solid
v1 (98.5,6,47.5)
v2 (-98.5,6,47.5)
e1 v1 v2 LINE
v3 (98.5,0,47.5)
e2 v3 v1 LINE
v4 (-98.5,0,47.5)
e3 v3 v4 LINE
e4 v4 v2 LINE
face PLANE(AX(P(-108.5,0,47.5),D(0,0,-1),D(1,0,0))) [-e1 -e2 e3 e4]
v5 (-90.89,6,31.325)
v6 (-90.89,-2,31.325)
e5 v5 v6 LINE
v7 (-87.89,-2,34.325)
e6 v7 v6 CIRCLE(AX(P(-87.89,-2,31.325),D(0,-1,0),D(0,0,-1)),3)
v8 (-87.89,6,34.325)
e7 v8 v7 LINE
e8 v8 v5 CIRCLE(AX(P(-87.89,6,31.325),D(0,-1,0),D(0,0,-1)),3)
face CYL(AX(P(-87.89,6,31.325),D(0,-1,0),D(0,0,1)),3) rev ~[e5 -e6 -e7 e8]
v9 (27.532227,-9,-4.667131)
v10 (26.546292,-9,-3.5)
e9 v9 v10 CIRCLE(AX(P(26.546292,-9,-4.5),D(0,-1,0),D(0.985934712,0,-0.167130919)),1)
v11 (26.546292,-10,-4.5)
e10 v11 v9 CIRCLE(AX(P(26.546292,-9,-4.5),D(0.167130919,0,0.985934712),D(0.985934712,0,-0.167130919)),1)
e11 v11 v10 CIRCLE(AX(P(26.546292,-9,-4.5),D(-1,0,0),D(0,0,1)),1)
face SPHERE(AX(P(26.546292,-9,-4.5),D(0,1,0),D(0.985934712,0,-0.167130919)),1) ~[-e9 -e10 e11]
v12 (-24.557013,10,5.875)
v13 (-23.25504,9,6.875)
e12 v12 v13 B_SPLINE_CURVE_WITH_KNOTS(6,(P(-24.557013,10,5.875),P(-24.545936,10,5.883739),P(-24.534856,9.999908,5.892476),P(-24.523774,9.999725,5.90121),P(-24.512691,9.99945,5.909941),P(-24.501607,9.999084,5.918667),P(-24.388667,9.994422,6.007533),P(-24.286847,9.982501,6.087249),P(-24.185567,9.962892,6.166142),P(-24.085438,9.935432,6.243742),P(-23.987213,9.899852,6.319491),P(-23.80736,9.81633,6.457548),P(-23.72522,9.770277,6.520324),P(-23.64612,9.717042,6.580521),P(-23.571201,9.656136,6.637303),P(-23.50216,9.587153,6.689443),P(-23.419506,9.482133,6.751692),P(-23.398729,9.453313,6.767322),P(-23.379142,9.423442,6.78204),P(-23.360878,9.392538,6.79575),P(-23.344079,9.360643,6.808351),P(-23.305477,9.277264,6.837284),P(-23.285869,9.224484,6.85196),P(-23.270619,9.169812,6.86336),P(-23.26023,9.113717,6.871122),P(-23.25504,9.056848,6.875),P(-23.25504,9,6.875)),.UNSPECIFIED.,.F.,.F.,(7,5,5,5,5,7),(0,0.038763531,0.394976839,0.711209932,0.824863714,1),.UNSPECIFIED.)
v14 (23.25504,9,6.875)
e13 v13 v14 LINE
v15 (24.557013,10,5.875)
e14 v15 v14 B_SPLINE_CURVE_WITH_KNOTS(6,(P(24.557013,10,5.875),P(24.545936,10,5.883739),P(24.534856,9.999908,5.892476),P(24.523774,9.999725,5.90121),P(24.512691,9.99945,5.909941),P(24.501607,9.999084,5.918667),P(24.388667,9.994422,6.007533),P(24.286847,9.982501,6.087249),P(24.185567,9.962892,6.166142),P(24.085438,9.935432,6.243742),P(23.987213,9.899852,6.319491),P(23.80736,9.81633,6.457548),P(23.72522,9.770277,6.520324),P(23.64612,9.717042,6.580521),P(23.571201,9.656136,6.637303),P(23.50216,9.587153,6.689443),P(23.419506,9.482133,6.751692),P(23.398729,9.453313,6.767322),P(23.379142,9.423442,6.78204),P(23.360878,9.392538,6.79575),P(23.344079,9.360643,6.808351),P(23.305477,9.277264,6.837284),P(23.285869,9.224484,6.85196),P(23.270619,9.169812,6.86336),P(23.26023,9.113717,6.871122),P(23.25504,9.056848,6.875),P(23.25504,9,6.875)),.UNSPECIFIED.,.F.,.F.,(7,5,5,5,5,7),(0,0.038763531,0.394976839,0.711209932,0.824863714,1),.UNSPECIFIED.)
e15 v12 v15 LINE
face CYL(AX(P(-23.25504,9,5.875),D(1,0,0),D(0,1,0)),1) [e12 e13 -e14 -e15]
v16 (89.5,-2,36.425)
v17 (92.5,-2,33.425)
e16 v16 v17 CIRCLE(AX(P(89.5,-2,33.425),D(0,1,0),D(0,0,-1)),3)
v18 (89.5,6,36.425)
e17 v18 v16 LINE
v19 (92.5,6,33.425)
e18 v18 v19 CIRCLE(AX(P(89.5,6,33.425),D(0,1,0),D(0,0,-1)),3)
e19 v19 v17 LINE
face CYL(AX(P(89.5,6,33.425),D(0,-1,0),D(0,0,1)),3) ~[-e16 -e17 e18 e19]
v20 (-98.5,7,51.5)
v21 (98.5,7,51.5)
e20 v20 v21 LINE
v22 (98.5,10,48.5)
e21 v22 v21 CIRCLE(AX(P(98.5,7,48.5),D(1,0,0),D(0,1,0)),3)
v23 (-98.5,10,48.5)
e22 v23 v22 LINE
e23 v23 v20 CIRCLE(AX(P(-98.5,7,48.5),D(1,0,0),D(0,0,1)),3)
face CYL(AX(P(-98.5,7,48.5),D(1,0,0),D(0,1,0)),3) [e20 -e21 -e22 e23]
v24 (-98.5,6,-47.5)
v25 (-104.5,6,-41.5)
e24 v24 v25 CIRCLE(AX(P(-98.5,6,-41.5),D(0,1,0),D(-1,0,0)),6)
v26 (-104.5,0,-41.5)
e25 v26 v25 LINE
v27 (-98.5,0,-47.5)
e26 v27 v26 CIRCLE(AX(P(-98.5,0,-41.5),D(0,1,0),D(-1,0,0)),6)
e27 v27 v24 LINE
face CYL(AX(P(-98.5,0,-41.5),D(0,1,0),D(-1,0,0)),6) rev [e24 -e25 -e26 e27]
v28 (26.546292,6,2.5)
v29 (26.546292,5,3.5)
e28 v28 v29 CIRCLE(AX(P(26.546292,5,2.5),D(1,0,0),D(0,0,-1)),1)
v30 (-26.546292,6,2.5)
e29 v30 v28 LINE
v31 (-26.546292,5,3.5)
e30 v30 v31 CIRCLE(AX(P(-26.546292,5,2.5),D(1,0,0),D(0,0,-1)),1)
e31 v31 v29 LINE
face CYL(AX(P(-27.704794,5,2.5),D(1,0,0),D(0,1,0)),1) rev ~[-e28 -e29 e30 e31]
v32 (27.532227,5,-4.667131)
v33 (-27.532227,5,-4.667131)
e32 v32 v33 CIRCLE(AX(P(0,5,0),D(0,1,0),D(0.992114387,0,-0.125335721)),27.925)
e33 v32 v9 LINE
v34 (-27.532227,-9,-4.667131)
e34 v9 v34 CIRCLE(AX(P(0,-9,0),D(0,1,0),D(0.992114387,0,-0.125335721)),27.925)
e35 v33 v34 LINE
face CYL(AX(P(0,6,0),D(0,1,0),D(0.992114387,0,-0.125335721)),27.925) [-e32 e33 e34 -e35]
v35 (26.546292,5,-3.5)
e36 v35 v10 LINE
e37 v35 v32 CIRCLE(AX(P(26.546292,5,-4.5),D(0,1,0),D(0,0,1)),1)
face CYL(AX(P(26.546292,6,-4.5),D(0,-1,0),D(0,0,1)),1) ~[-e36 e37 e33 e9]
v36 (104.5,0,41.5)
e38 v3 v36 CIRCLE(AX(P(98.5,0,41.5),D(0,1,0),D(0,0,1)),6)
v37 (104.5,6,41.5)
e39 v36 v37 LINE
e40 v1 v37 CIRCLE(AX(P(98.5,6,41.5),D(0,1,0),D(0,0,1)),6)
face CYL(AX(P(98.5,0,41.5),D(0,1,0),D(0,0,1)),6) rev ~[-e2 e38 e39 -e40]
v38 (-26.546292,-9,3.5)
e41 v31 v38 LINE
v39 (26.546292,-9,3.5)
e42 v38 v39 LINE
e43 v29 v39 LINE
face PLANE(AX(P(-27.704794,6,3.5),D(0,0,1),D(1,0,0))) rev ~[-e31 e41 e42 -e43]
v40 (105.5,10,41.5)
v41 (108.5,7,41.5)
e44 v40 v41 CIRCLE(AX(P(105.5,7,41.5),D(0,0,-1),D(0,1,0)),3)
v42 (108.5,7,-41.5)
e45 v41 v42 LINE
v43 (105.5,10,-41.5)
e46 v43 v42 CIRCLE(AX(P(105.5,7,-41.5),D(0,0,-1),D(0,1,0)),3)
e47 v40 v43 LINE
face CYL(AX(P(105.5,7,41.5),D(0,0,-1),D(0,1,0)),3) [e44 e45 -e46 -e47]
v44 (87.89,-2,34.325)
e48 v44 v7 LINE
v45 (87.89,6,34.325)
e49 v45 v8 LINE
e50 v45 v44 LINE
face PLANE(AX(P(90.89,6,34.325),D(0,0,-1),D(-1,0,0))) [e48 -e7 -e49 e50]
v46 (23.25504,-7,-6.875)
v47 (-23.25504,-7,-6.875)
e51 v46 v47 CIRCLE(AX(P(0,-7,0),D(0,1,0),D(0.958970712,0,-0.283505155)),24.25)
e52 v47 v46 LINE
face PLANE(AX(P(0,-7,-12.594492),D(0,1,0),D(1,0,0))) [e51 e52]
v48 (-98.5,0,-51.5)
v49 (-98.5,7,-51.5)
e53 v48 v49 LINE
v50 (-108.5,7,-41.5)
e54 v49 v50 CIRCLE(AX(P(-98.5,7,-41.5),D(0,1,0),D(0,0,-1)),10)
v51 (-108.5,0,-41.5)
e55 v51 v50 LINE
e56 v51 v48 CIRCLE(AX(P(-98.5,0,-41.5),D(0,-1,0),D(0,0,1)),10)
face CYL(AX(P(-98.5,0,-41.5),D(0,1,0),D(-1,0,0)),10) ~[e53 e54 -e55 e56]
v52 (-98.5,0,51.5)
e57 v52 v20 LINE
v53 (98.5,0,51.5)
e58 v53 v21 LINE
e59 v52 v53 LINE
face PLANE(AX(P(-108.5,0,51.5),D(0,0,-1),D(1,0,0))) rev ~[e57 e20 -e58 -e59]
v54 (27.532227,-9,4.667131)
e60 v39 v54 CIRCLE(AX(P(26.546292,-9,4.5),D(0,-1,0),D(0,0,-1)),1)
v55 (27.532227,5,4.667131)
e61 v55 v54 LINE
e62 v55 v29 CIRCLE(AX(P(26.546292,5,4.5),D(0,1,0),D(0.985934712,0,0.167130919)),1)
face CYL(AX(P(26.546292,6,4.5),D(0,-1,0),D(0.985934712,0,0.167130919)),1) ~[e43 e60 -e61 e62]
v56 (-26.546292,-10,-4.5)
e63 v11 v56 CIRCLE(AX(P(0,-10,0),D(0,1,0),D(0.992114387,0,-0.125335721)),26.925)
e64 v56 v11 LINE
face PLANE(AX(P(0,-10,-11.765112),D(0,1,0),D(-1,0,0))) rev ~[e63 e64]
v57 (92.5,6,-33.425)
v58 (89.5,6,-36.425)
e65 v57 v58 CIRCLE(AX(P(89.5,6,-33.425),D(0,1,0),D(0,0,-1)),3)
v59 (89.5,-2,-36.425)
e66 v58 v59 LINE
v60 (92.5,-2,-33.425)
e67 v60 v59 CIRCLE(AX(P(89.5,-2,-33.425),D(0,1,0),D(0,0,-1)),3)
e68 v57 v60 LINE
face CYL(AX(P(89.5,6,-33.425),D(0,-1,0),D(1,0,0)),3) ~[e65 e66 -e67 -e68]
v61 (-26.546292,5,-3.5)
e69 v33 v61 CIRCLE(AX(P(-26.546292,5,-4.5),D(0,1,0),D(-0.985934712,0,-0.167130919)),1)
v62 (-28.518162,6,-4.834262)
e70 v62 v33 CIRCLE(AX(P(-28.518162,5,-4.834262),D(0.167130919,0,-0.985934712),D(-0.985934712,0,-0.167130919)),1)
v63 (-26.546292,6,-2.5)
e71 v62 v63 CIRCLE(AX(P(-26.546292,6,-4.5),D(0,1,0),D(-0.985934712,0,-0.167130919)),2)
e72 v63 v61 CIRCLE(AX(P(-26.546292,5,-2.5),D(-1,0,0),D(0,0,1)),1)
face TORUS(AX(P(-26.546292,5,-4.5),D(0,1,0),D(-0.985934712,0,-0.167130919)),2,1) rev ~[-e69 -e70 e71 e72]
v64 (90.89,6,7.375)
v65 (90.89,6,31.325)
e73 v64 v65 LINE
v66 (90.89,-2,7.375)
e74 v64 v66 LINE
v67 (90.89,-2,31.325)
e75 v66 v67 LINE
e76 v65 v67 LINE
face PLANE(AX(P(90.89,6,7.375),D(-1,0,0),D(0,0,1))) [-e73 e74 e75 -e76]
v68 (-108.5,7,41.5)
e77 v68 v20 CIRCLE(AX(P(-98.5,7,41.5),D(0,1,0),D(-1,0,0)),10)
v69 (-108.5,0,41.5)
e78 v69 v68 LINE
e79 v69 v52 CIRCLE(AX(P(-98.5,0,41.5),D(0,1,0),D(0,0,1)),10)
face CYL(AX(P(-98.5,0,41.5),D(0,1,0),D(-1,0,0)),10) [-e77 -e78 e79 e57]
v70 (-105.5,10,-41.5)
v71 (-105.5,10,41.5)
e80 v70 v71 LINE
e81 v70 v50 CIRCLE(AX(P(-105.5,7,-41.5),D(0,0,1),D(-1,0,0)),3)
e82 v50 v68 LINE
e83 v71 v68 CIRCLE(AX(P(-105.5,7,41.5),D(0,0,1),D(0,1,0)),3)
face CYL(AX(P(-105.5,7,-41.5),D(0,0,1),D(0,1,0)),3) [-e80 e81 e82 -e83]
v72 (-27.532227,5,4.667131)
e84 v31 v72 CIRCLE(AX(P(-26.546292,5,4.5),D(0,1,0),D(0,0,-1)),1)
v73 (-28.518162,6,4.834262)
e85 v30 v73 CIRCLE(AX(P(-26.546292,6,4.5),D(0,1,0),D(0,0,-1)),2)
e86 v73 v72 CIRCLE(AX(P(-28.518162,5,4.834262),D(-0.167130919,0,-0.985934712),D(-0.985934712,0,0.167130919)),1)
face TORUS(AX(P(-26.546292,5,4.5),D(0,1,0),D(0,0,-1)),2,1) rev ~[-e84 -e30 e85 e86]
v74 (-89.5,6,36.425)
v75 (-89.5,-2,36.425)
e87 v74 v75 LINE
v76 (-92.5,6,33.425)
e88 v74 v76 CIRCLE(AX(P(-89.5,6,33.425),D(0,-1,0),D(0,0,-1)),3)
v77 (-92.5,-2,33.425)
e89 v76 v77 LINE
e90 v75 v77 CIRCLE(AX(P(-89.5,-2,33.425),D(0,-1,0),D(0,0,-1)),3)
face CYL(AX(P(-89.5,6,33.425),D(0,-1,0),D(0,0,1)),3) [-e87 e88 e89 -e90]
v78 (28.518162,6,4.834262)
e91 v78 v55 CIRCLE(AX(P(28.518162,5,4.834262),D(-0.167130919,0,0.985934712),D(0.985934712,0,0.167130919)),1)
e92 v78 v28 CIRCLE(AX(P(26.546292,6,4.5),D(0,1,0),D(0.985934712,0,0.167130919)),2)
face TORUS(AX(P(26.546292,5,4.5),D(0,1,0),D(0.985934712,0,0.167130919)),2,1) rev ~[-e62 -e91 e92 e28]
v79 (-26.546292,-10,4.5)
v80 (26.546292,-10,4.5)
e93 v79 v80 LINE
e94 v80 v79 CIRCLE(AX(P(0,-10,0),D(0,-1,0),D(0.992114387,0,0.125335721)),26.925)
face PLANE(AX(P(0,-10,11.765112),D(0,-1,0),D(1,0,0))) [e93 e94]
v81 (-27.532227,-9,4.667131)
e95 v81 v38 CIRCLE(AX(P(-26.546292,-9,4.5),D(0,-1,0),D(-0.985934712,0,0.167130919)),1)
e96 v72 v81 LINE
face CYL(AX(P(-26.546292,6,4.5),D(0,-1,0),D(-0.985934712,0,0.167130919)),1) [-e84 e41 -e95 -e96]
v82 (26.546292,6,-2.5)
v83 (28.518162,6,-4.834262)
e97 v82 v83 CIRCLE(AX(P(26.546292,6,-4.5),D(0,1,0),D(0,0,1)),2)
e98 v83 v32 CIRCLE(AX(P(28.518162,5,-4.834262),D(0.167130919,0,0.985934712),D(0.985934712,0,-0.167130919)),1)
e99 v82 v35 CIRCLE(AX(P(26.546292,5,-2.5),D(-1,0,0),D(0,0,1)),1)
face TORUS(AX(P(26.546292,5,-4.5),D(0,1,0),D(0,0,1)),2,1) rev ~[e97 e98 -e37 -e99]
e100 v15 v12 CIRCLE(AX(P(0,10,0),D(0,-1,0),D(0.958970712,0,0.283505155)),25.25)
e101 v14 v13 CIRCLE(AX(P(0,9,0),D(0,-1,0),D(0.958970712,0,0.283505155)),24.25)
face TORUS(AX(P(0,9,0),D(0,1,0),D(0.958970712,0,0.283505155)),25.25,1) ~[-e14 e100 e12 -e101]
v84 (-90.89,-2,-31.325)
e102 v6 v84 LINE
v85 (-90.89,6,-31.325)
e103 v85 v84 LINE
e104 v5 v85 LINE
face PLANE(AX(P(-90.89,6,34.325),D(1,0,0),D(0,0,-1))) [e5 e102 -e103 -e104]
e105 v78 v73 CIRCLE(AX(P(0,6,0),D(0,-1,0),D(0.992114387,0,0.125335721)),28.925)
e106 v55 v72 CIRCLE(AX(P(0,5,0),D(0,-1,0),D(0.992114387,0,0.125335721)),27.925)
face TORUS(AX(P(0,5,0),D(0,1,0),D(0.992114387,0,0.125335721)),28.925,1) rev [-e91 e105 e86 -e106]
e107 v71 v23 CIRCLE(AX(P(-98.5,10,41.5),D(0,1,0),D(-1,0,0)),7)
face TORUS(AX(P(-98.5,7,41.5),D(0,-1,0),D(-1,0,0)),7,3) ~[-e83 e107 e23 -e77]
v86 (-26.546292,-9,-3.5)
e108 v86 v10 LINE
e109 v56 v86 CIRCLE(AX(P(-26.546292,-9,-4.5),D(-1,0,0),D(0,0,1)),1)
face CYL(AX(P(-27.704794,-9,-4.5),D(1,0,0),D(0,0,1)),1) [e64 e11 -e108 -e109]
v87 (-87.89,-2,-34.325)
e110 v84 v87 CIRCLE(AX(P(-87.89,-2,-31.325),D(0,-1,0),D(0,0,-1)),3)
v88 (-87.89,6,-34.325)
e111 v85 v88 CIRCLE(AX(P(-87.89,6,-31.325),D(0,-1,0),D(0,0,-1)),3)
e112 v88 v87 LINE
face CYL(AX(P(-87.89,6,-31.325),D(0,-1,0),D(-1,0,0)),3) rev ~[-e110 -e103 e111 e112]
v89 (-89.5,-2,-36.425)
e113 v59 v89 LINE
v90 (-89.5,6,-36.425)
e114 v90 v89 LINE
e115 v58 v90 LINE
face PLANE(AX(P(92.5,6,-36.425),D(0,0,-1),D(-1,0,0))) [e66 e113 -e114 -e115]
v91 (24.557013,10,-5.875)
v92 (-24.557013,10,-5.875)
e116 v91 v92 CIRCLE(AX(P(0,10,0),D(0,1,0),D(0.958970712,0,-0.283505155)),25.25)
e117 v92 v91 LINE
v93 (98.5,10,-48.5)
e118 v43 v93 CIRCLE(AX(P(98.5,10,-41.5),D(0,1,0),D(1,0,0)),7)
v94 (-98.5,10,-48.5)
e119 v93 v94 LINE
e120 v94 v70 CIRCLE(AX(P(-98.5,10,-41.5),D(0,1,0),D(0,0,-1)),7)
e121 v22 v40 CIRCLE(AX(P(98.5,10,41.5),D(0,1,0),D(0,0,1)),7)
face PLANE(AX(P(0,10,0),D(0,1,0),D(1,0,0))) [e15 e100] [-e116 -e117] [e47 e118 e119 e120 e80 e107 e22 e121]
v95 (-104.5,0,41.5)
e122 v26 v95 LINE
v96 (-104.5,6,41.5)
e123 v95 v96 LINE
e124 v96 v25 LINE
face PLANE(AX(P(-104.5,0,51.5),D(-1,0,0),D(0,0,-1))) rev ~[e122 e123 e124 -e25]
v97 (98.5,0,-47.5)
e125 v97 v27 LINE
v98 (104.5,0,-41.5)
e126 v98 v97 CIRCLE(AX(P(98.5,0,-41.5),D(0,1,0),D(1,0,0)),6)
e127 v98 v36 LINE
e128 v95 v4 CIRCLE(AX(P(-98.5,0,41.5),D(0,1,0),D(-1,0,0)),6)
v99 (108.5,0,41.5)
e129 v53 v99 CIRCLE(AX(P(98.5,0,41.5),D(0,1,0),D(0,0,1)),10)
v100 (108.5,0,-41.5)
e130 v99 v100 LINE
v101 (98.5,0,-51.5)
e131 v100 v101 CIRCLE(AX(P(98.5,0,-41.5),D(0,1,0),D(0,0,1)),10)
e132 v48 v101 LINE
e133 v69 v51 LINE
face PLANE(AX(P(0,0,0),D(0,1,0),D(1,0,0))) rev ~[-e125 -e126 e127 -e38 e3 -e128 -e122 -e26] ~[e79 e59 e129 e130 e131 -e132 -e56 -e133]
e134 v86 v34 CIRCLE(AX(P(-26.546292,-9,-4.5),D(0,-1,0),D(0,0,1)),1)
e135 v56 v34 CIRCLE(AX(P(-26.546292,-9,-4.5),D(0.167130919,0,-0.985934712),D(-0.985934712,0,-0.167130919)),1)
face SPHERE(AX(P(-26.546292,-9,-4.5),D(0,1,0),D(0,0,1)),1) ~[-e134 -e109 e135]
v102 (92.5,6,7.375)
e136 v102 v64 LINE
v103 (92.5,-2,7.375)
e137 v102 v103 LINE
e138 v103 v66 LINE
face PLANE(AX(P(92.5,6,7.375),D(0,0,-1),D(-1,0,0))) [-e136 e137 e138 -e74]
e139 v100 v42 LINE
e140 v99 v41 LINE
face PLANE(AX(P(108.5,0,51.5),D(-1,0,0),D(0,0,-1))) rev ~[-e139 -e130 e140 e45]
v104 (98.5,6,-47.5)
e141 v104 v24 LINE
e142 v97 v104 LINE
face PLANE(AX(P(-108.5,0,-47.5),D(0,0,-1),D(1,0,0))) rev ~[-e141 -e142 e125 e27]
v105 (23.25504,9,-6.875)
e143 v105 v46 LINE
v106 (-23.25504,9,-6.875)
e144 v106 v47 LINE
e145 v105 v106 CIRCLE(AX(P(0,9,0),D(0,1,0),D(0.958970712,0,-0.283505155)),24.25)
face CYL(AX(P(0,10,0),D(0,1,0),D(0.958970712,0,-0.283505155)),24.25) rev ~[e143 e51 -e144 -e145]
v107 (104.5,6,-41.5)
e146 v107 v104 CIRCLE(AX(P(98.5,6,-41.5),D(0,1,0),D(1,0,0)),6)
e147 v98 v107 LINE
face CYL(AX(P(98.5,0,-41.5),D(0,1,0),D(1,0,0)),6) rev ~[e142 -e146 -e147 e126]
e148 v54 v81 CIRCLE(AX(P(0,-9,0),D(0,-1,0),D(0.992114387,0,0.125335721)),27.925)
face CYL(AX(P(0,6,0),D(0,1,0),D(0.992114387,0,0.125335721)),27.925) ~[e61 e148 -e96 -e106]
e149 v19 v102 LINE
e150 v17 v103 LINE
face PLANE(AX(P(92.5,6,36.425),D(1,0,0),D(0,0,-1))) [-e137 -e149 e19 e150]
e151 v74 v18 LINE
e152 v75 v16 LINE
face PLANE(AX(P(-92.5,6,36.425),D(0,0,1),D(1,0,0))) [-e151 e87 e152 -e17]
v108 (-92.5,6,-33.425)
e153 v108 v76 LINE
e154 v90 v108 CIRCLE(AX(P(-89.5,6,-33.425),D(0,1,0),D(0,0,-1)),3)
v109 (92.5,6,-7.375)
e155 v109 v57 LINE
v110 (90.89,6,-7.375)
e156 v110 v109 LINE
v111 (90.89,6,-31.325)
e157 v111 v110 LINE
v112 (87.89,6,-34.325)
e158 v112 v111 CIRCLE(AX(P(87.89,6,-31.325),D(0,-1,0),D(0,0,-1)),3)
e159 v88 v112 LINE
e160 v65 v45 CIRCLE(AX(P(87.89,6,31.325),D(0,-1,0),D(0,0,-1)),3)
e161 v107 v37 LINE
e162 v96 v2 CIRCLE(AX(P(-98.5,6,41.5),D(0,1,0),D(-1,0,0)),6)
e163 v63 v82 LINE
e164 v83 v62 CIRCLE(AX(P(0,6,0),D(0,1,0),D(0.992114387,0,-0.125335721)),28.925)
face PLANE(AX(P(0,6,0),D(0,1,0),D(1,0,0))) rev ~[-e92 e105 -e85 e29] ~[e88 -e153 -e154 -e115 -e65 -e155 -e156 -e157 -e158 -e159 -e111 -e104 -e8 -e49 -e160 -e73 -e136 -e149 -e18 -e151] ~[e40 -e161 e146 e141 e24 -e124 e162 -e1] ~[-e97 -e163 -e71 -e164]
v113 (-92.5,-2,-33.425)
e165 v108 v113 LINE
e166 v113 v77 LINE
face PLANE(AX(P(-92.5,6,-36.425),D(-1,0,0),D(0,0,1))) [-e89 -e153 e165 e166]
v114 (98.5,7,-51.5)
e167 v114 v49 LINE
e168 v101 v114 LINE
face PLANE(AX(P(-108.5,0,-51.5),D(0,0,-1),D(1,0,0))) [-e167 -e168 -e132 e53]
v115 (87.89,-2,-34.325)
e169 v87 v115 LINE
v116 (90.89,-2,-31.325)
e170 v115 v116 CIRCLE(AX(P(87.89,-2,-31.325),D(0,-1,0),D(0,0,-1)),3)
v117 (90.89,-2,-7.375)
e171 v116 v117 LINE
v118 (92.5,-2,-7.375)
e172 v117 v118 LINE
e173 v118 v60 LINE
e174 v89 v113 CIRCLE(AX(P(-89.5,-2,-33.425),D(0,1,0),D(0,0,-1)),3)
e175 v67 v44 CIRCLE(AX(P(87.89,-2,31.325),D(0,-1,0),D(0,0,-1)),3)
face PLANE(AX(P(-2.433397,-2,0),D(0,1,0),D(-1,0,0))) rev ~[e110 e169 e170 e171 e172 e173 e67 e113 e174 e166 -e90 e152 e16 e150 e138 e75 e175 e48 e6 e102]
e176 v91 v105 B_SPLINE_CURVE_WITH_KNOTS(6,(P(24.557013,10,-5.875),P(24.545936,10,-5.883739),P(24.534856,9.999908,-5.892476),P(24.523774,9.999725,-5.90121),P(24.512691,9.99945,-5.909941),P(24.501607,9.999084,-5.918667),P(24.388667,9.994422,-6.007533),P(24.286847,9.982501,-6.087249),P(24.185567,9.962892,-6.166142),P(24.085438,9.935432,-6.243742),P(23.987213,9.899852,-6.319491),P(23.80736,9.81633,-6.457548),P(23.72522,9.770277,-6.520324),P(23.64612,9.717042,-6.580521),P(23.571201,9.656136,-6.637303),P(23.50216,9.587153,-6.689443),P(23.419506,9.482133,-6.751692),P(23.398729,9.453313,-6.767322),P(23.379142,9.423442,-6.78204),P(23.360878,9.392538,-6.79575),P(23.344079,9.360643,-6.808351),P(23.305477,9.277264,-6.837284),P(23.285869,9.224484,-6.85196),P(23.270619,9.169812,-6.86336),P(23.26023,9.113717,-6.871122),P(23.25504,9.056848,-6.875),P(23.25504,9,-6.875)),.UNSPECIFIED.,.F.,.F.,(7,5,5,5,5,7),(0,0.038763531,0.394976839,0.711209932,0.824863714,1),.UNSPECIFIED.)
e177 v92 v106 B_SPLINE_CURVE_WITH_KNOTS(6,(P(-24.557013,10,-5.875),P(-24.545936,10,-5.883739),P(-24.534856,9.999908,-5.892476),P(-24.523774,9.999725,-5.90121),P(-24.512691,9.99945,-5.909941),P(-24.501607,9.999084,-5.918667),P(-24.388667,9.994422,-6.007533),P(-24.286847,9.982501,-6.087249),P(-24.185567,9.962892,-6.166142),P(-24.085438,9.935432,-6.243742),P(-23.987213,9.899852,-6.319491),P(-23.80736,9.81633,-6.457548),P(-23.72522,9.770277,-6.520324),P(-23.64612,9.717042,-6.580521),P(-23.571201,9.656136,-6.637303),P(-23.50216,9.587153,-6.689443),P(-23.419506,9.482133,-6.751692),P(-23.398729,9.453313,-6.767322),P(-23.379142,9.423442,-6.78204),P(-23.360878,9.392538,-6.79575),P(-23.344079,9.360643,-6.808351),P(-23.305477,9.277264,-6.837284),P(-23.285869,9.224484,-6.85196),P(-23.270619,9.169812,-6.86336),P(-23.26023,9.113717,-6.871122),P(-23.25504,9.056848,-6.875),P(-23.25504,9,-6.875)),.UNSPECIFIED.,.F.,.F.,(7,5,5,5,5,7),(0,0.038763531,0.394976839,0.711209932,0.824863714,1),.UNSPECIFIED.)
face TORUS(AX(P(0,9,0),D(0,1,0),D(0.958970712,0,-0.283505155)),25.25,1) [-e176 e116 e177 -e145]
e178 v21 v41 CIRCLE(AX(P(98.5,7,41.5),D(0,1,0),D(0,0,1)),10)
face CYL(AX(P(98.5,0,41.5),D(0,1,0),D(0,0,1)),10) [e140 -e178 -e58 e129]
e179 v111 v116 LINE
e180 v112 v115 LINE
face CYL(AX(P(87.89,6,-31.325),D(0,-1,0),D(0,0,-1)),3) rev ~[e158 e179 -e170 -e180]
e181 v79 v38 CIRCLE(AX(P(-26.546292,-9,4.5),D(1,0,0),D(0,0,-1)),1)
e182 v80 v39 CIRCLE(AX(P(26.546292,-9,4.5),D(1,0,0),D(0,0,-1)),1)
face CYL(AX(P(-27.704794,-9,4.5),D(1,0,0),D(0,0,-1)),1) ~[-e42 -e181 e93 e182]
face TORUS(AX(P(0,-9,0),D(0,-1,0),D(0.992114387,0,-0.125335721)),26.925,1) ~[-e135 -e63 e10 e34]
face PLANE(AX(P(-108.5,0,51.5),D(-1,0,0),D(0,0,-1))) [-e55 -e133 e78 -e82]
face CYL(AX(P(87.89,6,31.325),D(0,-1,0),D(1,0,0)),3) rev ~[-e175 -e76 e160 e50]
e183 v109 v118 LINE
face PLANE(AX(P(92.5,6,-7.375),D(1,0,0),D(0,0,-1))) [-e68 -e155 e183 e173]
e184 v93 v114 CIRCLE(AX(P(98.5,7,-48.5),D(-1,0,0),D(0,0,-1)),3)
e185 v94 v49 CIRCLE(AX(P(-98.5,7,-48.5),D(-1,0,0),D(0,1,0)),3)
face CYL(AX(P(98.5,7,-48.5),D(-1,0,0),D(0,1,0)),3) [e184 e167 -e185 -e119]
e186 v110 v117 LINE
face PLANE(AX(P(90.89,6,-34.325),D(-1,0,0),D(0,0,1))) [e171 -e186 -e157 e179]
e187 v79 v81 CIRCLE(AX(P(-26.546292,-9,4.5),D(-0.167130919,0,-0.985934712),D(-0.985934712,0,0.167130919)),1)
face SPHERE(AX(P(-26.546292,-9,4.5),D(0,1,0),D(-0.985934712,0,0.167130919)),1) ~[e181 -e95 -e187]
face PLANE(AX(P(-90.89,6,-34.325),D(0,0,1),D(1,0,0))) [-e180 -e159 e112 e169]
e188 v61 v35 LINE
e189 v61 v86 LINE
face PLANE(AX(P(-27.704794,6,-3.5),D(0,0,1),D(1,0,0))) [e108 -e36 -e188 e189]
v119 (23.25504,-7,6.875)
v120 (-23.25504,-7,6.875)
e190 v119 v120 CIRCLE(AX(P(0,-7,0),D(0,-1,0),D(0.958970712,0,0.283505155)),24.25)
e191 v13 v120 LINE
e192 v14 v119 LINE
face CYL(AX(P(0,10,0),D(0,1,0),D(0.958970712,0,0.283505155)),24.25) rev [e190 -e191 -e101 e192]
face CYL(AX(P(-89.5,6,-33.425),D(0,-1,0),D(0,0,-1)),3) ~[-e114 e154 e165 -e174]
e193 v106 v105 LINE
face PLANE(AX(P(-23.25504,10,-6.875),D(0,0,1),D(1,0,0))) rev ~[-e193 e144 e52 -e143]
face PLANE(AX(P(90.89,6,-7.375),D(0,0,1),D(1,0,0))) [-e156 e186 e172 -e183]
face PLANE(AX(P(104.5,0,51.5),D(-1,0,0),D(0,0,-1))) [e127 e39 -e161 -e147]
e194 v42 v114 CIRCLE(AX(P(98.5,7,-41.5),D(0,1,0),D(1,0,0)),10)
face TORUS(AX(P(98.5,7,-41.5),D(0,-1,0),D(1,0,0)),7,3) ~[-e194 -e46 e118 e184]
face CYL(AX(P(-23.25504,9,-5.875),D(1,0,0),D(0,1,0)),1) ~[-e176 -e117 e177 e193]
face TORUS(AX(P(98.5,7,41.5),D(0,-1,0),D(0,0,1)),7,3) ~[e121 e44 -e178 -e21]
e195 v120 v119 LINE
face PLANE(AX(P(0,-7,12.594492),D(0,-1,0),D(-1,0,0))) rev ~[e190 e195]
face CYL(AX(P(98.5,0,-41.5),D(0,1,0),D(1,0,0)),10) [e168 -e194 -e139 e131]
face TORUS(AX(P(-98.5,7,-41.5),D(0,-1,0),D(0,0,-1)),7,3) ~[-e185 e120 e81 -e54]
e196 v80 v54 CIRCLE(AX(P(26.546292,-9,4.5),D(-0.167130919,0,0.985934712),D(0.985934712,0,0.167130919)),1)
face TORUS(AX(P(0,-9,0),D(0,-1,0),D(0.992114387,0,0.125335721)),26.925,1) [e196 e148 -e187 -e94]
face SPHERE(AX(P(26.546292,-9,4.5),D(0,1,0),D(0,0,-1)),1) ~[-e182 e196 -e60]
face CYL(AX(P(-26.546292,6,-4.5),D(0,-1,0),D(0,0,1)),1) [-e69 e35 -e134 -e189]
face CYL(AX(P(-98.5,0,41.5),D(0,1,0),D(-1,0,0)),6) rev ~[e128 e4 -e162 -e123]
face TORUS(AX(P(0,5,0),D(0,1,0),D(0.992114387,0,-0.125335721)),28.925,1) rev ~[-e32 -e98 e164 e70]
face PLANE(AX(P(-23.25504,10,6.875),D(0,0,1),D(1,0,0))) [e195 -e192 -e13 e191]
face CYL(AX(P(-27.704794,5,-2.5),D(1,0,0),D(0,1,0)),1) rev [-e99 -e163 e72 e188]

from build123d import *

# Parameters (mm, degrees)
SKETCH1_W           = 217
SKETCH1_H           = 103
BOSS_EXTRUDE1_DEPTH = 10
FILLET1_R           = 10
SHELL1_T            = -4
FILLET2_R           = 3
BOSS_EXTRUDE3_DEPTH = 16
CUT_EXTRUDE2_DEPTH  = 17
FILLET3_R           = 1
FILLET4_R           = 1
BOSS_EXTRUDE4_DEPTH = 8
FILLET5_R           = 3


with BuildPart() as part:
    # Sketch1 → Boss-Extrude1 (new body)
    with BuildSketch(Plane(origin=(0, 0, 0), x_dir=(1, 0, 0), z_dir=(0, 1, 0))):
        Rectangle(SKETCH1_W, SKETCH1_H)
    extrude(amount=BOSS_EXTRUDE1_DEPTH)

    # Fillet1
    fillet1_edges = [part.edges().sort_by_distance(p)[0] for p in [
        (108.5, 5, 51.5),
        (-108.5, 5, 51.5),
        (-108.5, 5, -51.5),
        (108.5, 5, -51.5),
    ]]
    fillet(fillet1_edges, radius=FILLET1_R)

    # Shell1
    shell1_openings = [part.faces().sort_by_distance(p)[0] for p in [
        (0, 0, 0),
    ]]
    offset(amount=SHELL1_T, openings=shell1_openings, kind=Kind.INTERSECTION)

    # Fillet2
    fillet2_edges = [part.edges().sort_by_distance(p)[0] for p in [
        (108.5, 10, 0),
        (0, 10, 51.5),
        (0, 10, -51.5),
        (-108.5, 10, 0),
        (-105.571067812, 10, 48.571067812),
        (-105.571067812, 10, -48.571067812),
        (105.571067812, 10, -48.571067812),
        (105.571067812, 10, 48.571067812),
    ]]
    fillet(fillet2_edges, radius=FILLET2_R)

    # Sketch4 → Boss-Extrude3 (add)
    with BuildSketch(Plane.XZ.offset(-6)):
        with BuildLine():
            Line((-27.70479426, 3.5), (27.70479426, 3.5))
            ThreePointArc((27.70479426, 3.5), (0, 27.925), (-27.70479426, 3.5))
        make_face()
        with BuildLine():
            Line((-27.70479426, -3.5), (27.70479426, -3.5))
            ThreePointArc((27.70479426, -3.5), (0, -27.925), (-27.70479426, -3.5))
        make_face()
    extrude(amount=BOSS_EXTRUDE3_DEPTH)

    # Sketch2 → Cut-Extrude2 (cut)
    with BuildSketch(Plane(origin=(0, 10, 0), x_dir=(1, 0, 0), z_dir=(0, 1, 0))):
        with BuildLine():
            Line((-23.255039776, 6.875), (23.255039776, 6.875))
            ThreePointArc((23.255039776, 6.875), (0, 24.25), (-23.255039776, 6.875))
        make_face()
        with BuildLine():
            Line((-23.255039776, -6.875), (23.255039776, -6.875))
            ThreePointArc((23.255039776, -6.875), (0, -24.25), (-23.255039776, -6.875))
        make_face()
    extrude(amount=-CUT_EXTRUDE2_DEPTH, mode=Mode.SUBTRACT)

    # Fillet3
    fillet3_edges = [part.edges().sort_by_distance(p)[0] for p in [
        (0, 10, -6.875),
        (0, 10, 24.25),
        (0, 10, 6.875),
        (0, 10, -24.25),
    ]]
    fillet(fillet3_edges, radius=FILLET3_R)

    # Fillet4
    fillet4_edges = [part.edges().sort_by_distance(p)[0] for p in [
        (0, -10, 3.5),
        (-27.70479426, -2, 3.5),
        (0, 6, 3.5),
        (0, -10, 27.925),
        (27.70479426, -2, 3.5),
        (0, 6, 27.925),
        (0, -10, -3.5),
        (27.70479426, -2, -3.5),
        (0, 6, -3.5),
        (0, -10, -27.925),
        (-27.70479426, -2, -3.5),
        (0, 6, -27.925),
    ]]
    fillet(fillet4_edges, radius=FILLET4_R)

    # Sketch5 → Boss-Extrude4 (add)
    with BuildSketch(Plane.XZ.offset(-6)):
        Polygon((-92.5, 36.425), (92.5, 36.425), (92.5, 7.375), (90.89, 7.375), (90.89, 34.325), (-90.89, 34.325), (-90.89, -34.325), (90.89, -34.325), (90.89, -7.375), (92.5, -7.375), (92.5, -36.425), (-92.5, -36.425), align=None)
    extrude(amount=BOSS_EXTRUDE4_DEPTH)

    # Fillet5
    fillet5_edges = [part.edges().sort_by_distance(p)[0] for p in [
        (-92.5, 2, 36.425),
        (-92.5, 2, -36.425),
        (92.5, 2, -36.425),
        (90.89, 2, -34.325),
        (-90.89, 2, -34.325),
        (-90.89, 2, 34.325),
        (90.89, 2, 34.325),
        (92.5, 2, 36.425),
    ]]
    fillet(fillet5_edges, radius=FILLET5_R)


solid = part.part
